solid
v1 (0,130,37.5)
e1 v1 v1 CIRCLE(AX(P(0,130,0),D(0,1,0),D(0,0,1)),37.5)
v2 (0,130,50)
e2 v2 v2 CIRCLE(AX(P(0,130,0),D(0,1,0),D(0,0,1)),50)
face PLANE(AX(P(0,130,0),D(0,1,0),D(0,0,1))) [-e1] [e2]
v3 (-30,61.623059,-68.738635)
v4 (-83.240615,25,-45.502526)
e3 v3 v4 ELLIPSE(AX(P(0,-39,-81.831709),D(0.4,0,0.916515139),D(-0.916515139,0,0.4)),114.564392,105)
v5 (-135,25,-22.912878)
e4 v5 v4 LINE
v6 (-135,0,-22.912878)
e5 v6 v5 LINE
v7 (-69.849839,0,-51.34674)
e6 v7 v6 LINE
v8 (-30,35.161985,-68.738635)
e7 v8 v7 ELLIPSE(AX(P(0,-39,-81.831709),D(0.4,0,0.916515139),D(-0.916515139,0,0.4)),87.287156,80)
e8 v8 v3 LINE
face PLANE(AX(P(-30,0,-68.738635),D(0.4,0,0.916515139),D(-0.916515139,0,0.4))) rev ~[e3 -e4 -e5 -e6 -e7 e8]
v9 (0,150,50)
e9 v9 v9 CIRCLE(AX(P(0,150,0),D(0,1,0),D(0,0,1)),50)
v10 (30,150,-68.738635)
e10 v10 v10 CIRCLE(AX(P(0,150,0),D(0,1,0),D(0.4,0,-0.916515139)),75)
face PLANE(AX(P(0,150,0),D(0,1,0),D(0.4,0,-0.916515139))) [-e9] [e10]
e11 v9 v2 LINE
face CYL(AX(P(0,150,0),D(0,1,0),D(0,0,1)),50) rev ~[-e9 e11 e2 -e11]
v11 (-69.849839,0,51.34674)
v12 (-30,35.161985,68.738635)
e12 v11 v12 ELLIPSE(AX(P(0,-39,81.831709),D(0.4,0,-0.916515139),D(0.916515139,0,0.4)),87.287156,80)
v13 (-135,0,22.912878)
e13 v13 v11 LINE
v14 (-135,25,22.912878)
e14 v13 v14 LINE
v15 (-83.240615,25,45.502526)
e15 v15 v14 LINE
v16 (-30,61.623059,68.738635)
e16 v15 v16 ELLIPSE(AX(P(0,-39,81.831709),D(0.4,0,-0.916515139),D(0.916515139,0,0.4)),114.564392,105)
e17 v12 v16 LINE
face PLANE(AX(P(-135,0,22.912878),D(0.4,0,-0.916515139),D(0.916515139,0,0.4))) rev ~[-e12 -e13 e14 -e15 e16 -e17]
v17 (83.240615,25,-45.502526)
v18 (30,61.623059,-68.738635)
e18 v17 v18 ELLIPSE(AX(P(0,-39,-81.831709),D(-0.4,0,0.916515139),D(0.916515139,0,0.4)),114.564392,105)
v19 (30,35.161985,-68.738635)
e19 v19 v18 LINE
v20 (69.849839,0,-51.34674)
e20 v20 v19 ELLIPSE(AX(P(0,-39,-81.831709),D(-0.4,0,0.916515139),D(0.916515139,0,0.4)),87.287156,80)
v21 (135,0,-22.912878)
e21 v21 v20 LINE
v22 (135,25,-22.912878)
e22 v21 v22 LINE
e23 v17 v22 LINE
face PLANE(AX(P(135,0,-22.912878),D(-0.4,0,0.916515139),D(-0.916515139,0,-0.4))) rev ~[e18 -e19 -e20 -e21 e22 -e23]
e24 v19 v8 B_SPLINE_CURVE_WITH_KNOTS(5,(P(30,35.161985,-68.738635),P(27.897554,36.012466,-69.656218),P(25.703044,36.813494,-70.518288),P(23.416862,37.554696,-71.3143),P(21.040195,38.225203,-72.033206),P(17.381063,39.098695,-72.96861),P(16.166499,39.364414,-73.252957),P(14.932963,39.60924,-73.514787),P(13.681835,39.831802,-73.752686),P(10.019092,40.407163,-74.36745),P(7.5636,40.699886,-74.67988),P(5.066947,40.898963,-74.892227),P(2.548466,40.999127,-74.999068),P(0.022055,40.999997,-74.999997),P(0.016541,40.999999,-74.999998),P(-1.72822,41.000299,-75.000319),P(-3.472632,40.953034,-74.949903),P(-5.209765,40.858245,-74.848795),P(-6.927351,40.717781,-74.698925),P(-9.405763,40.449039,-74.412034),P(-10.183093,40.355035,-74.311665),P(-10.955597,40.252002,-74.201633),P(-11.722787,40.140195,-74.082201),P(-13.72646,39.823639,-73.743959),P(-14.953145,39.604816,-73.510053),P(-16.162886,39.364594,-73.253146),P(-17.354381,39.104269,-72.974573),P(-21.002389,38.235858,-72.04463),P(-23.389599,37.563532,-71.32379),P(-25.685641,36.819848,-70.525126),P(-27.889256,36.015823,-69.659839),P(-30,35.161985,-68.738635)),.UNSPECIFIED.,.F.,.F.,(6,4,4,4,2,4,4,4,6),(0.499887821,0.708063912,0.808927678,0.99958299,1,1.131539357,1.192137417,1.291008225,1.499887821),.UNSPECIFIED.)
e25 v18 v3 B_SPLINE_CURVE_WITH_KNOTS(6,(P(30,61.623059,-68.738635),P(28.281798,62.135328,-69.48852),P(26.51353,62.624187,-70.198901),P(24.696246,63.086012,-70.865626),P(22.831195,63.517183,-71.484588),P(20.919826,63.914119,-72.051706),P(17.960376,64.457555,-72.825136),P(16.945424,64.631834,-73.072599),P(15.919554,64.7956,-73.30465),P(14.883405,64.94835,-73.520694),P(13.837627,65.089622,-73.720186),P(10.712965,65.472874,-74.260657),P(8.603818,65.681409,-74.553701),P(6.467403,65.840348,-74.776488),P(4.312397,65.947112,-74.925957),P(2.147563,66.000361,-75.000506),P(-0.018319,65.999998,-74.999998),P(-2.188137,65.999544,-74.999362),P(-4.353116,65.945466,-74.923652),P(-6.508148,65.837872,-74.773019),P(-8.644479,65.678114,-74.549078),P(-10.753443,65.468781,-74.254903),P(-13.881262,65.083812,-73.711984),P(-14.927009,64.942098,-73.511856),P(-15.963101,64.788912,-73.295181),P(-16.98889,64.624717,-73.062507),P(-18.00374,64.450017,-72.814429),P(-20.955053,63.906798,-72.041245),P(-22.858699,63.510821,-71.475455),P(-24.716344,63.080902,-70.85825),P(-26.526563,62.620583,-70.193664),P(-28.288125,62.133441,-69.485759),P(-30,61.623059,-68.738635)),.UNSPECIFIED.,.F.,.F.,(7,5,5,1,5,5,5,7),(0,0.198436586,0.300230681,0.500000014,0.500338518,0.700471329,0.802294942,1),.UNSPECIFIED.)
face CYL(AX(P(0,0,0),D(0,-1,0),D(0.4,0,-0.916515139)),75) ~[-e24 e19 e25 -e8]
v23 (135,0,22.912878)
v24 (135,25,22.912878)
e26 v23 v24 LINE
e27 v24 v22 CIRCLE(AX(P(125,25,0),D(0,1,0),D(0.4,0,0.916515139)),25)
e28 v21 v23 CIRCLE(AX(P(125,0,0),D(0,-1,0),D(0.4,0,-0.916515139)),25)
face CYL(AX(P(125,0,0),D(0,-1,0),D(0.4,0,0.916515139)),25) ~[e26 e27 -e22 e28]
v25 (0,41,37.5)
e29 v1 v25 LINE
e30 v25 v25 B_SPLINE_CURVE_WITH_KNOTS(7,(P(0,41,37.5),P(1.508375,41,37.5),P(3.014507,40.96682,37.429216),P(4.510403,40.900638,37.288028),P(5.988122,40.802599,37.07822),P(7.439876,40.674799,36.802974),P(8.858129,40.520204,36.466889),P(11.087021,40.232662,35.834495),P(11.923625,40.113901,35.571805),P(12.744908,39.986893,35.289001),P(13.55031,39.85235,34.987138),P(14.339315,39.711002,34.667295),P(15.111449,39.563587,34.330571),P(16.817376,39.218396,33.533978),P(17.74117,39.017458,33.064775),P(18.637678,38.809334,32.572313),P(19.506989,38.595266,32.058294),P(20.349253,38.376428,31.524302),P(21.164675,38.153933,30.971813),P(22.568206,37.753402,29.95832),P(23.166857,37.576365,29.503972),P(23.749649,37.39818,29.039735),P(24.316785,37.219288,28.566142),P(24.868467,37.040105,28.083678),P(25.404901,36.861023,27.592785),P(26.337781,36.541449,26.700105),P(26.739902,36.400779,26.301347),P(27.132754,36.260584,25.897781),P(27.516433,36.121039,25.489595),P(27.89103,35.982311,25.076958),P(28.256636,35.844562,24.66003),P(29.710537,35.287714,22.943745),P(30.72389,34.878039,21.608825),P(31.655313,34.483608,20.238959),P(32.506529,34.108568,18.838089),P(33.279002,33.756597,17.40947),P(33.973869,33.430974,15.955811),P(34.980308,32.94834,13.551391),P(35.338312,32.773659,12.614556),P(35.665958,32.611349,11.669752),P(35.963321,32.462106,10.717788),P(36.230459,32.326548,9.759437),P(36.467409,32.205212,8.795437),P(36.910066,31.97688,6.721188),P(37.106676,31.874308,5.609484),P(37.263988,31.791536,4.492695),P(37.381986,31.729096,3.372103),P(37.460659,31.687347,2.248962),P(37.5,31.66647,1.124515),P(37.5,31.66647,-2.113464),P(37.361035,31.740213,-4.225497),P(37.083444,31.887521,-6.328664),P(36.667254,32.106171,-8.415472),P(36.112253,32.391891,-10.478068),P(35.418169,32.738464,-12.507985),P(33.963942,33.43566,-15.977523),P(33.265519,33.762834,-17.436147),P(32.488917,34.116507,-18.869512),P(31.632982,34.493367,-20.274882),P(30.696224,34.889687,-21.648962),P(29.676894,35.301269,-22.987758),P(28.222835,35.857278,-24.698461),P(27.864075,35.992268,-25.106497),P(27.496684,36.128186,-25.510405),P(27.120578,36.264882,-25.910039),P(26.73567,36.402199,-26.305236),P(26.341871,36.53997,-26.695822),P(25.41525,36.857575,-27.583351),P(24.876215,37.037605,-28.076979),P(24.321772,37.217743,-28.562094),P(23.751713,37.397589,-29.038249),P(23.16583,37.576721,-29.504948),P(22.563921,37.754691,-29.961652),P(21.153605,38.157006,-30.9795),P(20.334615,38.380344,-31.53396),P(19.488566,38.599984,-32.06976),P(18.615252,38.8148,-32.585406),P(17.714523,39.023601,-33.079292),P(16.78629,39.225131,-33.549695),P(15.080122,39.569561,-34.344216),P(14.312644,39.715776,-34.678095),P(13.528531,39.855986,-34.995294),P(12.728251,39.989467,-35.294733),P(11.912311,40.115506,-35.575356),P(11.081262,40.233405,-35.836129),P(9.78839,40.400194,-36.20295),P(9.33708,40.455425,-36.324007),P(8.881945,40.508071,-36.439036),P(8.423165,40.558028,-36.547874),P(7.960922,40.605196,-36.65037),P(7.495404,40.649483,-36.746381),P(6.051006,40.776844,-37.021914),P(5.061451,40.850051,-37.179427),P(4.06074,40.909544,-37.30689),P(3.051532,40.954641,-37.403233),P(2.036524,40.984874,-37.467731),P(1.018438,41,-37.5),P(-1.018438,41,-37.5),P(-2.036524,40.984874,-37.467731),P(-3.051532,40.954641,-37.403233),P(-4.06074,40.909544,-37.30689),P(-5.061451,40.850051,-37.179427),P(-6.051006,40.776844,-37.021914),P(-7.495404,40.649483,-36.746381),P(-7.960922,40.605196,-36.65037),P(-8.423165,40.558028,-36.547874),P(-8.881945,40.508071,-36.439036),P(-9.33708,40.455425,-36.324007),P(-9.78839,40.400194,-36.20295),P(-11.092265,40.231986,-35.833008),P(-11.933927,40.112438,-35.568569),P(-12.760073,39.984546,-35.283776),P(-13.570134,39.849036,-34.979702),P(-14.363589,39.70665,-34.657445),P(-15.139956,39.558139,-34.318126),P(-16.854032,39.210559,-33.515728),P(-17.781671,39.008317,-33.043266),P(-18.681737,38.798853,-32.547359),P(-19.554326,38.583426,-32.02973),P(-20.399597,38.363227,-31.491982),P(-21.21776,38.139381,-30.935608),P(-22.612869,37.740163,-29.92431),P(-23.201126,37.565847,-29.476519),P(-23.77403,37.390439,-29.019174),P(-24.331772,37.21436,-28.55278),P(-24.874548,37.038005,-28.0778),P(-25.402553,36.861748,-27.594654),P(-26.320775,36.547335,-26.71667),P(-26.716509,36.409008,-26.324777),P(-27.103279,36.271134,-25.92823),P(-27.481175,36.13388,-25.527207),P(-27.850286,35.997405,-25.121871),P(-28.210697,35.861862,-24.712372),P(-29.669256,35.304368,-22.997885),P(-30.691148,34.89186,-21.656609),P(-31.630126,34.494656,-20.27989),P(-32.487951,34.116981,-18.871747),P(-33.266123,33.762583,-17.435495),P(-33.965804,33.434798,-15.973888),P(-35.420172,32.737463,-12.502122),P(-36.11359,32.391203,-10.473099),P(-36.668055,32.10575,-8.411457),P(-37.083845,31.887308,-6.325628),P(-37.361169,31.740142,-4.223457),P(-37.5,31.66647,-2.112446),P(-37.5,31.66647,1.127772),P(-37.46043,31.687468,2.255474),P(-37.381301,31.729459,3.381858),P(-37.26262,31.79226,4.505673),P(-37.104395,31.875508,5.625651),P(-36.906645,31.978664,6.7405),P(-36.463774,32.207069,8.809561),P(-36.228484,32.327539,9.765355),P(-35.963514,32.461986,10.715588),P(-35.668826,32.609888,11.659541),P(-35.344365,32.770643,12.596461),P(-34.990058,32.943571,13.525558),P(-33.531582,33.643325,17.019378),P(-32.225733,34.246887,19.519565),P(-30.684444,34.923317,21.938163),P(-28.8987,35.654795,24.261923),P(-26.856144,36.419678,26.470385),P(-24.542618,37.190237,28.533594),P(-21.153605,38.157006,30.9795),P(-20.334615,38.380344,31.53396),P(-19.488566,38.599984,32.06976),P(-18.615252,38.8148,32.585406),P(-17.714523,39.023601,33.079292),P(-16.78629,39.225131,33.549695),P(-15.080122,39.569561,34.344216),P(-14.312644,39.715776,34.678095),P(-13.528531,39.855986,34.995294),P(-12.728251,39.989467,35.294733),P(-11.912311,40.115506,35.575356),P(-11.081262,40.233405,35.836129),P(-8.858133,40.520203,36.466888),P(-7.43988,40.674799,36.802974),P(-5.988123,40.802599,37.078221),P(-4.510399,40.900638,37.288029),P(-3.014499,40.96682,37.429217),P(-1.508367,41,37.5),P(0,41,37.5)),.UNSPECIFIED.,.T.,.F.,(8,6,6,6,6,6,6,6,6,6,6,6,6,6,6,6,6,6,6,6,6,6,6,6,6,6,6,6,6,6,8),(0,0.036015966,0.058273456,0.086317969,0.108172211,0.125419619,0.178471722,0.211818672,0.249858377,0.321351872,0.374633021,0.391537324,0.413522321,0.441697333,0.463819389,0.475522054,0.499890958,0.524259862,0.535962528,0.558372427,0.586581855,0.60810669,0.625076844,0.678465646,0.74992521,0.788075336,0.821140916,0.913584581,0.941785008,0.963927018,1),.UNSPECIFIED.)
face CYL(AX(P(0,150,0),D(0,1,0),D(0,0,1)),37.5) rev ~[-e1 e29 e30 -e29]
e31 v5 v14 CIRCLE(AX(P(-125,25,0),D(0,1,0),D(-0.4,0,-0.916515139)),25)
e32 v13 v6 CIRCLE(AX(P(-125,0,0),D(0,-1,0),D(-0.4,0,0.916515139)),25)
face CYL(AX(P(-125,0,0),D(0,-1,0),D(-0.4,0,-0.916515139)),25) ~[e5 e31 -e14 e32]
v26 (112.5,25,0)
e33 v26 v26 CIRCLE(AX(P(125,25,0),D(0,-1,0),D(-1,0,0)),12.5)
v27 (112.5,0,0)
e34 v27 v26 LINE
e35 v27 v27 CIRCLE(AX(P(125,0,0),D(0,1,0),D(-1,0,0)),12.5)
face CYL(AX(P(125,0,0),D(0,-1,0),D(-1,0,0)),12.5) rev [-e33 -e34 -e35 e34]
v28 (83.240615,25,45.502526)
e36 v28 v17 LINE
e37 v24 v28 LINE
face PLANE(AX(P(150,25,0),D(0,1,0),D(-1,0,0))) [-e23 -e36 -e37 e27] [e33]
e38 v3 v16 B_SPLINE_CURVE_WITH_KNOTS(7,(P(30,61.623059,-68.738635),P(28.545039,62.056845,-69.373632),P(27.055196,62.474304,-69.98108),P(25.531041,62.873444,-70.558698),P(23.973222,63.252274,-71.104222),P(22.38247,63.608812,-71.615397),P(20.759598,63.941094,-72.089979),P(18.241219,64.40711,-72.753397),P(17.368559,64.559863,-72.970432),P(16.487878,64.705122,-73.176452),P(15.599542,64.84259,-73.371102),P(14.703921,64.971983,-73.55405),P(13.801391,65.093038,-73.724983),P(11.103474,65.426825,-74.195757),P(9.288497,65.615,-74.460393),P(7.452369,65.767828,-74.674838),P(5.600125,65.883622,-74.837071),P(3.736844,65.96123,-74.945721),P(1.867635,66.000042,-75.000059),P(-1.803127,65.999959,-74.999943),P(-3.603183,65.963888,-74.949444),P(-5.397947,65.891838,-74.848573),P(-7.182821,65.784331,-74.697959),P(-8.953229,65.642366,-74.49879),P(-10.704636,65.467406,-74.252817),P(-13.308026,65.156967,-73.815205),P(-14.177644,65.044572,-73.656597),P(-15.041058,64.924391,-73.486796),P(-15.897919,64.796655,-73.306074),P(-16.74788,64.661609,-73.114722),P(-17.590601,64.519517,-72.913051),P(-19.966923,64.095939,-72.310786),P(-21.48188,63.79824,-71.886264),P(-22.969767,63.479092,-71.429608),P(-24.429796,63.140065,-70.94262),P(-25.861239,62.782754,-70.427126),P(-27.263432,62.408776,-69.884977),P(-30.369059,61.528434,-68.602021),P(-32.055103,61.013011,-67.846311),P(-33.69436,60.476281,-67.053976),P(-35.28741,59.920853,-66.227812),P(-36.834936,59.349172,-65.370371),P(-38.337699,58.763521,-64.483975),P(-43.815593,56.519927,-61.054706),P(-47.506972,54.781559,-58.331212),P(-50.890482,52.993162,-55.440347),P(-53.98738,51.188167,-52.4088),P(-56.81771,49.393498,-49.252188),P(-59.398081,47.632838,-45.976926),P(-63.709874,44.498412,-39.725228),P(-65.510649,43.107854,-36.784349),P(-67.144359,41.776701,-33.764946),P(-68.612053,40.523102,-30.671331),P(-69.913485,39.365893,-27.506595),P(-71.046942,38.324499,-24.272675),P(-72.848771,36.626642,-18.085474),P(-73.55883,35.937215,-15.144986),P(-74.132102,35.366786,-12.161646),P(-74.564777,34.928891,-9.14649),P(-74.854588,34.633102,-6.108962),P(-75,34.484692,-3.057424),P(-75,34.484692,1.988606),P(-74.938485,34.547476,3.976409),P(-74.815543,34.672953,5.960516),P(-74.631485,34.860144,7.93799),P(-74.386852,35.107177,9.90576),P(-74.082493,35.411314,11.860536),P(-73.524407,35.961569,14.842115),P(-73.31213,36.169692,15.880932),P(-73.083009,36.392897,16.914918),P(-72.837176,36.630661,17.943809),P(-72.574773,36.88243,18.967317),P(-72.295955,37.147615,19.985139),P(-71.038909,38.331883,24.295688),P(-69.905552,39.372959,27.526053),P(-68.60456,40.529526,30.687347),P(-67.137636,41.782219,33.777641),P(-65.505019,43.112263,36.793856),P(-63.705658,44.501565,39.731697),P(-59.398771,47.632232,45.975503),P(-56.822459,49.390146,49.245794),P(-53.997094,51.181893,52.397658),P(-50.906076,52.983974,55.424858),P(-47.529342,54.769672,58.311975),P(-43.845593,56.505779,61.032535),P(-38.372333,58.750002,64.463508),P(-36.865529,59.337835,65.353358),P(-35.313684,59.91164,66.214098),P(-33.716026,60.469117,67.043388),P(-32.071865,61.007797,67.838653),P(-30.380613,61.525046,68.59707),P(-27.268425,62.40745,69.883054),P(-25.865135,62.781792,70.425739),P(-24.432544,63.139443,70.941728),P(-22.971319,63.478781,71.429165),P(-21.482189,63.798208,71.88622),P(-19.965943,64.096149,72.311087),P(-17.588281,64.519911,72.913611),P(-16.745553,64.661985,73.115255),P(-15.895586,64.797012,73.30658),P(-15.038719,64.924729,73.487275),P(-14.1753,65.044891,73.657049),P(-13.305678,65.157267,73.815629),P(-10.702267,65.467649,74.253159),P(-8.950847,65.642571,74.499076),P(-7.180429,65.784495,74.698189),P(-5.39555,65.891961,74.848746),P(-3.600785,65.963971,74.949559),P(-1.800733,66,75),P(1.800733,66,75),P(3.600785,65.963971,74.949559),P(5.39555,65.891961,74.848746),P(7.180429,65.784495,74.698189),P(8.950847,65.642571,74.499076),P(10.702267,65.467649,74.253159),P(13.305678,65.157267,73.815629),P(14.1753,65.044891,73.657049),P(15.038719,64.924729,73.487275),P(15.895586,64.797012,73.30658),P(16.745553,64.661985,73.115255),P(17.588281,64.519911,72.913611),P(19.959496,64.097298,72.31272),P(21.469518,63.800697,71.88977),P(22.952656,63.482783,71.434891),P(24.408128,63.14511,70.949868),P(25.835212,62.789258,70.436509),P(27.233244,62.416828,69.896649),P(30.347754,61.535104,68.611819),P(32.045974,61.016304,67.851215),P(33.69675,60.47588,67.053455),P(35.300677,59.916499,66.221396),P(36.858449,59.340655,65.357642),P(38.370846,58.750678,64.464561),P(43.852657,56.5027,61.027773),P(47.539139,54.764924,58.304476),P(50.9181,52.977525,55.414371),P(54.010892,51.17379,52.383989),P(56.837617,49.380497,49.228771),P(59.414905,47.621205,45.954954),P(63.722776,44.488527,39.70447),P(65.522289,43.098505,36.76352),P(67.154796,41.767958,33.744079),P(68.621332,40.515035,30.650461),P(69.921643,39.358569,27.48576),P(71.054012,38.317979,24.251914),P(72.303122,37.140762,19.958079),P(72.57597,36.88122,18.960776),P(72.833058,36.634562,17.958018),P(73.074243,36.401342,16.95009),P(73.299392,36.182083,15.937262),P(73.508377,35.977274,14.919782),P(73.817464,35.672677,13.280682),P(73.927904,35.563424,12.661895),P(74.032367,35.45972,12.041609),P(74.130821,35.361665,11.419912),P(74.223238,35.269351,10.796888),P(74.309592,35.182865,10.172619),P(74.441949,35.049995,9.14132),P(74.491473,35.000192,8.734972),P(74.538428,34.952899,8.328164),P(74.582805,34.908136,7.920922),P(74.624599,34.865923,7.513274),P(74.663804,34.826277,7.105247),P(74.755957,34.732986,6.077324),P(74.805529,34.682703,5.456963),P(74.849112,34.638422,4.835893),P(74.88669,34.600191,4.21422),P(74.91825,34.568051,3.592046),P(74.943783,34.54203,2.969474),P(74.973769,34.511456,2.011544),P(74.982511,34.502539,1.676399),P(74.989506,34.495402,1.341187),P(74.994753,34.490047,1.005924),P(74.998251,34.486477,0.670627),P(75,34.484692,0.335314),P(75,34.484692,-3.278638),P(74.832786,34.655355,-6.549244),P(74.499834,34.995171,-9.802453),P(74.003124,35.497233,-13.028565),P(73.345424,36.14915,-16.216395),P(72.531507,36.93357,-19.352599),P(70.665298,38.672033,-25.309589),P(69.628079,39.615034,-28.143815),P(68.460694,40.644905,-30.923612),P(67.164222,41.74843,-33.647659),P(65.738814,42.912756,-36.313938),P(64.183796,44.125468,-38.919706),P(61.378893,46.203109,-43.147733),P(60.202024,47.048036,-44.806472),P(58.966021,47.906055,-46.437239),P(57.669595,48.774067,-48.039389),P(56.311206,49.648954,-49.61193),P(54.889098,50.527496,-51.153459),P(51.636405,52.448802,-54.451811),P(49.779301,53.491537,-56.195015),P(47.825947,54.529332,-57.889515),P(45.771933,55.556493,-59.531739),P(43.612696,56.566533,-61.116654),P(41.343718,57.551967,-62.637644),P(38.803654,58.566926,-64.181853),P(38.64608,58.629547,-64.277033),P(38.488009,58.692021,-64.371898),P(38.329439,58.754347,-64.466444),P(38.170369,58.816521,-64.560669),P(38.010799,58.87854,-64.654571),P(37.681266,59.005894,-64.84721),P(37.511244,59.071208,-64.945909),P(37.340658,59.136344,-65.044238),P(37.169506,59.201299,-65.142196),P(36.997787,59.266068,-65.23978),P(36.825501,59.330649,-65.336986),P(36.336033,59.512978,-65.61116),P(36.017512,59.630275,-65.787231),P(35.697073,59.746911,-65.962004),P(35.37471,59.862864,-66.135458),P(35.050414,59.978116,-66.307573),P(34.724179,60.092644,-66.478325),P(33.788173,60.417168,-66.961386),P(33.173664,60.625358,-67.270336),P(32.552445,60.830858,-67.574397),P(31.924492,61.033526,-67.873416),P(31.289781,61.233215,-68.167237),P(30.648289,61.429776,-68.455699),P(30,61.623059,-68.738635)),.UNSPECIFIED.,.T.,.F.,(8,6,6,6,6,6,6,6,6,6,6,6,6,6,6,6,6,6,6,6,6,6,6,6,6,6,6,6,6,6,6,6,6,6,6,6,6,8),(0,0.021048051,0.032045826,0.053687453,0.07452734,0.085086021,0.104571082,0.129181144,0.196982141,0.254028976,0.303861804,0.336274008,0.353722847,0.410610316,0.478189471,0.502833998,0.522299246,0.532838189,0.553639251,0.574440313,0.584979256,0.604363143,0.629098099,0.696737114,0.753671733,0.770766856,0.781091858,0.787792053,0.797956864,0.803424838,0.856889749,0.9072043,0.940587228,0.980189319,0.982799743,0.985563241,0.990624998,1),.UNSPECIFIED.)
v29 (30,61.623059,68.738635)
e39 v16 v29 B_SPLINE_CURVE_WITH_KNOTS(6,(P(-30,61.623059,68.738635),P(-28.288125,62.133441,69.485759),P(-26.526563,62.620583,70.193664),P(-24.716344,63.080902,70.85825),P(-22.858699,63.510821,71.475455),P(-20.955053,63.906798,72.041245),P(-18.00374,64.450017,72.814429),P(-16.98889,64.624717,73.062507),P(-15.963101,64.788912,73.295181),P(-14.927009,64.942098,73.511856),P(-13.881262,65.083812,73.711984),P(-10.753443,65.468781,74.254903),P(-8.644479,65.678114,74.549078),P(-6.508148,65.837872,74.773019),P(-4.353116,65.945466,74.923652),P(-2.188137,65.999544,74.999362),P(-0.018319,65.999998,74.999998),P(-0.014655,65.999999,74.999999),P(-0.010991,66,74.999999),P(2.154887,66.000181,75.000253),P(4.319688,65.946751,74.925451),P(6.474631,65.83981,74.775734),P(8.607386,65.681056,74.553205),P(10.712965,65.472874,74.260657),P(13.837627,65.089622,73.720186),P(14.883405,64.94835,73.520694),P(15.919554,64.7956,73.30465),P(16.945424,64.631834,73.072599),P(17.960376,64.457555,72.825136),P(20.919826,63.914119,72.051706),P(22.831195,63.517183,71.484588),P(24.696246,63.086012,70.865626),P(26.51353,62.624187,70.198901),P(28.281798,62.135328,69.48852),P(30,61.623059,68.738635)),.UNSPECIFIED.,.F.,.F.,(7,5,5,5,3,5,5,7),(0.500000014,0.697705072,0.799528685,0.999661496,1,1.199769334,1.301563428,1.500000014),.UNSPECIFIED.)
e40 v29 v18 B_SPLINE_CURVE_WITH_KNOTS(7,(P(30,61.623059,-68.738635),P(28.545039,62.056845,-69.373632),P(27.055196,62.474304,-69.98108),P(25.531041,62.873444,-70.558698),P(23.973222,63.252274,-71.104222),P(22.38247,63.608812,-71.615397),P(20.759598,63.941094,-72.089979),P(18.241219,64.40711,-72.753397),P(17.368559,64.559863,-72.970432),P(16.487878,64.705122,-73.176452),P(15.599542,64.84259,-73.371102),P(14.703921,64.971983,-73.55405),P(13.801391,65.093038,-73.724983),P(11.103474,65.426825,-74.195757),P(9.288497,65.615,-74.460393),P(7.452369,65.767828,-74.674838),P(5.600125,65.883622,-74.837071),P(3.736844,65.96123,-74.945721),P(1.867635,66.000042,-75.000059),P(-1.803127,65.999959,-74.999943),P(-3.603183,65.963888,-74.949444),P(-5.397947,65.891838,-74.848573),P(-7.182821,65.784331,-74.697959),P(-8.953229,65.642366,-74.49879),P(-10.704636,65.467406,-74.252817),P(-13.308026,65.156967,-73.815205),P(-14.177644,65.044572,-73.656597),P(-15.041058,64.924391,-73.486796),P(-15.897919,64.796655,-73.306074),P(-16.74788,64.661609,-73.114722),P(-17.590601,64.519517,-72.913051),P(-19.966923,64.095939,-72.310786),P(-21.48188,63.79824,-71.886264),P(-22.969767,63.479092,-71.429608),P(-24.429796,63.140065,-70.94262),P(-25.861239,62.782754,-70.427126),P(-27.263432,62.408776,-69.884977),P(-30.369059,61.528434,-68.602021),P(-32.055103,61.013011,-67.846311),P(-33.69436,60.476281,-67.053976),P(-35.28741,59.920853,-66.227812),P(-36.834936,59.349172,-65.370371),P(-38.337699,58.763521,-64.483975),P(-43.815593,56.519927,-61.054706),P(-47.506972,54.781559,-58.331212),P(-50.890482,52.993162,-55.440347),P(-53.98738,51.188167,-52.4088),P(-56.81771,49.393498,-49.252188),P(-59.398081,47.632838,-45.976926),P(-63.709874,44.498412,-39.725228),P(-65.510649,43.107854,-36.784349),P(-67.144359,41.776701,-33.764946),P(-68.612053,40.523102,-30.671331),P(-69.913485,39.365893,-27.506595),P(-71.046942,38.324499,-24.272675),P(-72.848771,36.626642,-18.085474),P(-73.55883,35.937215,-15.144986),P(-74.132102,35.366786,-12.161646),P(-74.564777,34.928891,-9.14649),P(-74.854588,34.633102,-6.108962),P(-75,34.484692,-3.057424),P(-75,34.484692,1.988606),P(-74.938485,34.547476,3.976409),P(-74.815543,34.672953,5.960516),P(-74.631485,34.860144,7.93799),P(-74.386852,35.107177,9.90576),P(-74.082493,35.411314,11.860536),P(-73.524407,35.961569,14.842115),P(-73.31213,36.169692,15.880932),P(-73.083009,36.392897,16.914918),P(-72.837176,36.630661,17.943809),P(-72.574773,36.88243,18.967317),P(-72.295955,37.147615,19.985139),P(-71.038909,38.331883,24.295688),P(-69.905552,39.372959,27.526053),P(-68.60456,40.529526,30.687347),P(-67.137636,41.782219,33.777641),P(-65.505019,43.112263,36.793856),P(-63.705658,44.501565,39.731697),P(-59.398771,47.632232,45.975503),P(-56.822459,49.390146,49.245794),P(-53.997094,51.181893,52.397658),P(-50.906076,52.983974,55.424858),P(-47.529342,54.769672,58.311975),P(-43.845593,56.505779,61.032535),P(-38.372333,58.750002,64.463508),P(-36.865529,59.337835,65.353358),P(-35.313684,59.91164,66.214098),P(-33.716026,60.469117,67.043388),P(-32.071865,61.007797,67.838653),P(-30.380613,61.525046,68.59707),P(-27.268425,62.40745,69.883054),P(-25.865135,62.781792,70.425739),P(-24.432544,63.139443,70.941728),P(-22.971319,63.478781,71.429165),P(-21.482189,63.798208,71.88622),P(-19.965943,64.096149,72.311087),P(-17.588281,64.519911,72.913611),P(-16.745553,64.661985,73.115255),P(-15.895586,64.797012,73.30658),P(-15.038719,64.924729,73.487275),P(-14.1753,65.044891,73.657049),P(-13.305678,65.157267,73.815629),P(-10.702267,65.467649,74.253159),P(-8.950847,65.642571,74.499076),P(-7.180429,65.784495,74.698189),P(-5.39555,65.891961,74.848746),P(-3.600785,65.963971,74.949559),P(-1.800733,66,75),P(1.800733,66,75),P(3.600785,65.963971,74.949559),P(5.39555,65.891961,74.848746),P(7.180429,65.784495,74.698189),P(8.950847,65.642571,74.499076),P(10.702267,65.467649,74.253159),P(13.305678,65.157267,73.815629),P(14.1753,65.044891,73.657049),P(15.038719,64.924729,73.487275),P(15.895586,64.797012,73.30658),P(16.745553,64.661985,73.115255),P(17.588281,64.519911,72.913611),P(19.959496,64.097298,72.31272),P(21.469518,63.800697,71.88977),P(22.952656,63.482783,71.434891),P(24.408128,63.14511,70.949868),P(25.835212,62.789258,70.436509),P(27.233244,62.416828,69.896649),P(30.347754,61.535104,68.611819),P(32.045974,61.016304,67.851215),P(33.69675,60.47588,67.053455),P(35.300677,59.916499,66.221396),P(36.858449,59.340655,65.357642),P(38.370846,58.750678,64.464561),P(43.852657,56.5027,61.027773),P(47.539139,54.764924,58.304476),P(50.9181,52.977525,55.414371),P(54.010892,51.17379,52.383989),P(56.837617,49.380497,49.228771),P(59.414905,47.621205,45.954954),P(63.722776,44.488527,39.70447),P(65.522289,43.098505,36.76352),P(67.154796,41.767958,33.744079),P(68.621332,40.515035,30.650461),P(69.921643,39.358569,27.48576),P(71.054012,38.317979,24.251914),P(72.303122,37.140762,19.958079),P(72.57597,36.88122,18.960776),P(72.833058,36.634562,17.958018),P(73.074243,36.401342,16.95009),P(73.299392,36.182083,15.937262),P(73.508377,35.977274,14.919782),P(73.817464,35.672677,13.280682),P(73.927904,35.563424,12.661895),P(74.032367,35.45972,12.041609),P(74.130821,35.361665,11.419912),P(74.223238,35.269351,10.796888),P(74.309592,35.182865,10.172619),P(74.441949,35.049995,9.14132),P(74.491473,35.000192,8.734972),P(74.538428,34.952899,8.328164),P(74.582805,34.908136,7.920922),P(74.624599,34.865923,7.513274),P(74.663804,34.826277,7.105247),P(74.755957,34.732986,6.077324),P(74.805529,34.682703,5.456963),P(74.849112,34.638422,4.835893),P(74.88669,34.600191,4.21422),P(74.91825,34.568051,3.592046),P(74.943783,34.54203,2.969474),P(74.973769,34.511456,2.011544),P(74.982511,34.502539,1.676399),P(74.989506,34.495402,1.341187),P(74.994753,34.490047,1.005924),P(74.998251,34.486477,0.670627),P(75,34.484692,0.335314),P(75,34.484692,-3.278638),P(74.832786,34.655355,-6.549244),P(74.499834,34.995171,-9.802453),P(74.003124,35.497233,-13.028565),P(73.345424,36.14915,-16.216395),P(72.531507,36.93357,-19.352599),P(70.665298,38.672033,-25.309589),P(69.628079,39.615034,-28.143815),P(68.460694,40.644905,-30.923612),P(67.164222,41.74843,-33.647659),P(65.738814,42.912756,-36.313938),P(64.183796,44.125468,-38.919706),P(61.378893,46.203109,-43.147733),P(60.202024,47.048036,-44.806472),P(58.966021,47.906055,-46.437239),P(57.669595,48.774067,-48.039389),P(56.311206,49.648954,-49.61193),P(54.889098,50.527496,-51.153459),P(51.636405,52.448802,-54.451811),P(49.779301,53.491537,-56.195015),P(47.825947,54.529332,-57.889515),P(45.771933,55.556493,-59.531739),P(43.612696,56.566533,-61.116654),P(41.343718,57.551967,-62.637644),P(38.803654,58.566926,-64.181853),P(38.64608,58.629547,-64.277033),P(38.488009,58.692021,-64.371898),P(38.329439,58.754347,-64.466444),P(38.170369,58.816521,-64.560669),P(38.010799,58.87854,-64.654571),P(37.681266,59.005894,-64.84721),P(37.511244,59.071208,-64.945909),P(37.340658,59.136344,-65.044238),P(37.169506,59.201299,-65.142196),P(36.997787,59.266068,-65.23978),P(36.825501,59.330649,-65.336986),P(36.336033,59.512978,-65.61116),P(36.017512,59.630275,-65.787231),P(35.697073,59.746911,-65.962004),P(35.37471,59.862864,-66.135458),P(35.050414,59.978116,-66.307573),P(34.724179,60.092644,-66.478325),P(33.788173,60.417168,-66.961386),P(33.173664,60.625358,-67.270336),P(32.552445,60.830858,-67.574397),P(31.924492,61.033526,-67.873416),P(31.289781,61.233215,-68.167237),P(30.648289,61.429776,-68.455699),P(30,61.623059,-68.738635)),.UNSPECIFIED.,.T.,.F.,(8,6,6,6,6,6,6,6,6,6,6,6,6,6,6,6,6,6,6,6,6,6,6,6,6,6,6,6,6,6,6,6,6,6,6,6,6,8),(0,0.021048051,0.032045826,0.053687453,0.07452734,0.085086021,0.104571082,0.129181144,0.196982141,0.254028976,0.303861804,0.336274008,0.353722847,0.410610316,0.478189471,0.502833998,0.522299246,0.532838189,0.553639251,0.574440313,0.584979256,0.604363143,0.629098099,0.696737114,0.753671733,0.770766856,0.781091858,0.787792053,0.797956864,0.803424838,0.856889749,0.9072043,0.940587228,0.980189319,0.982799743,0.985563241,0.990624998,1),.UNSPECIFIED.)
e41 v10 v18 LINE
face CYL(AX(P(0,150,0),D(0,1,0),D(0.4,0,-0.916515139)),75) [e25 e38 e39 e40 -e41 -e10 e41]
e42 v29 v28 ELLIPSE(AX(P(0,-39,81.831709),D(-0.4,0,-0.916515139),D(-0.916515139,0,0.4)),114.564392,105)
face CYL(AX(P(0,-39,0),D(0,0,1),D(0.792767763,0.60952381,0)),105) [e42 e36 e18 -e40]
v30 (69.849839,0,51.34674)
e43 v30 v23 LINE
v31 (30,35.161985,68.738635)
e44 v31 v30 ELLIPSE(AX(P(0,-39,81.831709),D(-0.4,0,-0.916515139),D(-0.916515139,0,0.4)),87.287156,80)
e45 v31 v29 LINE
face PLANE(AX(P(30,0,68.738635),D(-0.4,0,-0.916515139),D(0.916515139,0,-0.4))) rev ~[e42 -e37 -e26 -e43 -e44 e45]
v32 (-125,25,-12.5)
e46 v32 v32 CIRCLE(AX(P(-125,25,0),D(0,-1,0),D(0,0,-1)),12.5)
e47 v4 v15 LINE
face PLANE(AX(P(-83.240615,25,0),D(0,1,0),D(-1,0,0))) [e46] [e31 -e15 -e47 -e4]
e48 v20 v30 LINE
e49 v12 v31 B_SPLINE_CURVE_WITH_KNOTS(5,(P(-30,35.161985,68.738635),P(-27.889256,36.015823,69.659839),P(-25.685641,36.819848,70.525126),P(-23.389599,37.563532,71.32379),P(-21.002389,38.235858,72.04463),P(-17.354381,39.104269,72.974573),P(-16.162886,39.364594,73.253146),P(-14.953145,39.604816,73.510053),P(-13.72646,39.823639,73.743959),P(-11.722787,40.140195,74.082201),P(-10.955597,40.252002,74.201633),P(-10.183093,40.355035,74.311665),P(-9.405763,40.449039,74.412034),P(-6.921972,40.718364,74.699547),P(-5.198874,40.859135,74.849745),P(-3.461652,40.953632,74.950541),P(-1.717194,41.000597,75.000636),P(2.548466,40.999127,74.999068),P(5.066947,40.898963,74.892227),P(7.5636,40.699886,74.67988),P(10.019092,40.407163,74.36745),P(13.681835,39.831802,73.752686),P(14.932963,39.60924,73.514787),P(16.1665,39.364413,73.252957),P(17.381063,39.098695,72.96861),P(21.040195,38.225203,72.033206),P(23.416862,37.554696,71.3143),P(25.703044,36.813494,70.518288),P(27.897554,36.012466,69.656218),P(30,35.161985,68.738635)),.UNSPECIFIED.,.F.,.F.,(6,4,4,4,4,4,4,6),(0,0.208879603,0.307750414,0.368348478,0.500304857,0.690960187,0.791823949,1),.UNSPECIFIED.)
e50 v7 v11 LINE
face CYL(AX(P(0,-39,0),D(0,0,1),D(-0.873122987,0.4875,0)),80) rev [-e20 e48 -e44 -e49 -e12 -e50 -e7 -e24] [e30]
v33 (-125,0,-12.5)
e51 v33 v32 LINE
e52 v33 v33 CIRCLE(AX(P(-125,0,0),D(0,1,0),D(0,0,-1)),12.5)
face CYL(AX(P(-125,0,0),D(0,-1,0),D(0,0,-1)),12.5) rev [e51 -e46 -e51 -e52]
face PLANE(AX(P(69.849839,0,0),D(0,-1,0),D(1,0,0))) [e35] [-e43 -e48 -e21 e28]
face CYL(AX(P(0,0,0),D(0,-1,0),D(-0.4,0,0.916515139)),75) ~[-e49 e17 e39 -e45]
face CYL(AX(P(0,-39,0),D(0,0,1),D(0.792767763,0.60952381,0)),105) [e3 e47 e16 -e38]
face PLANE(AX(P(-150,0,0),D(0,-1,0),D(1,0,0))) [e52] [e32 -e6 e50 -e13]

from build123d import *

# Parameters (mm, degrees)
BOSS_EXTRUDE3_DEPTH = 75
SKETCH2_OUTSIDE_W   = 370.368
SKETCH2_OUTSIDE_H   = 220.368
SKETCH2_OUTSIDE_R   = 12.5
CUT_EXTRUDE1_DEPTH  = 150
BOSS_EXTRUDE4_REACH = 227
SKETCH3_R           = 75
SKETCH4_R           = 37.5
CUT_EXTRUDE2_DEPTH  = 150
SKETCH4_4_R         = 50
SKETCH4_4_R_2       = 37.5
CUT_EXTRUDE3_DEPTH  = 20


with BuildPart() as part:
    # Sketch1 → Boss-Extrude3 (new, symmetric)
    with BuildSketch(Plane.XY):
        with BuildLine():
            Line((-150, 25), (-150, 0))
            Line((-150, 0), (-69.84983894, 0))
            ThreePointArc((-69.84983894, 0), (0, 41), (69.84983894, 0))
            Line((69.84983894, 0), (150, 0))
            Line((150, 0), (150, 25))
            Line((150, 25), (83.240615087, 25))
            ThreePointArc((83.240615087, 25), (0, 66), (-83.240615087, 25))
            Line((-83.240615087, 25), (-150, 25))
        make_face()
    extrude(amount=BOSS_EXTRUDE3_DEPTH, both=True)

    # Sketch2 outside → Cut-Extrude1 (cut)
    # profile 1 of 3: a face of its own
    with BuildSketch(Plane(origin=(0, 0, 0), x_dir=(1, 0, 0), z_dir=(0, 1, 0))):
        Rectangle(SKETCH2_OUTSIDE_W, SKETCH2_OUTSIDE_H)
        with BuildLine():
            Line((-135, -22.912878475), (-30, -68.738635424))
            ThreePointArc((-30, -68.738635424), (0, -75), (30, -68.738635424))
            Line((30, -68.738635424), (135, -22.912878475))
            ThreePointArc((135, -22.912878475), (150, 0), (135, 22.912878475))
            Line((135, 22.912878475), (30, 68.738635424))
            ThreePointArc((30, 68.738635424), (0, 75), (-30, 68.738635424))
            Line((-30, 68.738635424), (-135, 22.912878475))
            ThreePointArc((-135, 22.912878475), (-150, 0), (-135, -22.912878475))
        make_face(mode=Mode.SUBTRACT)
    # profile 2 of 3: a face of its own
    with BuildSketch(Plane(origin=(0, 0, 0), x_dir=(1, 0, 0), z_dir=(0, 1, 0))):
        with Locations((125, 0)):
            Circle(SKETCH2_OUTSIDE_R)
    # profile 3 of 3: a face of its own
    with BuildSketch(Plane(origin=(0, 0, 0), x_dir=(1, 0, 0), z_dir=(0, 1, 0))):
        with Locations((-125, 0)):
            Circle(SKETCH2_OUTSIDE_R)
    extrude(amount=CUT_EXTRUDE1_DEPTH, mode=Mode.SUBTRACT)

    # Sketch3 → Boss-Extrude4 (add, up to next)
    with BuildSketch(Plane(origin=(0, 150, 0), x_dir=(1, 0, 0), z_dir=(0, 1, 0)), mode=Mode.PRIVATE) as boss_extrude4_sk1:
        Circle(SKETCH3_R)
    boss_extrude4_tool1 = extrude(boss_extrude4_sk1.sketch, amount=-BOSS_EXTRUDE4_REACH, mode=Mode.PRIVATE) - part.part
    add(boss_extrude4_tool1.solids().sort_by_distance((0, 150, 0))[0])

    # Sketch4 → Cut-Extrude2 (cut)
    with BuildSketch(Plane(origin=(0, 150, 0), x_dir=(1, 0, 0), z_dir=(0, 1, 0))):
        Circle(SKETCH4_R)
    extrude(amount=-CUT_EXTRUDE2_DEPTH, mode=Mode.SUBTRACT)

    # Sketch4<4> → Cut-Extrude3 (cut)
    with BuildSketch(Plane(origin=(0, 150, 0), x_dir=(1, 0, 0), z_dir=(0, 1, 0))):
        Circle(SKETCH4_4_R)
        Circle(SKETCH4_4_R_2, mode=Mode.SUBTRACT)
    extrude(amount=-CUT_EXTRUDE3_DEPTH, mode=Mode.SUBTRACT)


solid = part.part
